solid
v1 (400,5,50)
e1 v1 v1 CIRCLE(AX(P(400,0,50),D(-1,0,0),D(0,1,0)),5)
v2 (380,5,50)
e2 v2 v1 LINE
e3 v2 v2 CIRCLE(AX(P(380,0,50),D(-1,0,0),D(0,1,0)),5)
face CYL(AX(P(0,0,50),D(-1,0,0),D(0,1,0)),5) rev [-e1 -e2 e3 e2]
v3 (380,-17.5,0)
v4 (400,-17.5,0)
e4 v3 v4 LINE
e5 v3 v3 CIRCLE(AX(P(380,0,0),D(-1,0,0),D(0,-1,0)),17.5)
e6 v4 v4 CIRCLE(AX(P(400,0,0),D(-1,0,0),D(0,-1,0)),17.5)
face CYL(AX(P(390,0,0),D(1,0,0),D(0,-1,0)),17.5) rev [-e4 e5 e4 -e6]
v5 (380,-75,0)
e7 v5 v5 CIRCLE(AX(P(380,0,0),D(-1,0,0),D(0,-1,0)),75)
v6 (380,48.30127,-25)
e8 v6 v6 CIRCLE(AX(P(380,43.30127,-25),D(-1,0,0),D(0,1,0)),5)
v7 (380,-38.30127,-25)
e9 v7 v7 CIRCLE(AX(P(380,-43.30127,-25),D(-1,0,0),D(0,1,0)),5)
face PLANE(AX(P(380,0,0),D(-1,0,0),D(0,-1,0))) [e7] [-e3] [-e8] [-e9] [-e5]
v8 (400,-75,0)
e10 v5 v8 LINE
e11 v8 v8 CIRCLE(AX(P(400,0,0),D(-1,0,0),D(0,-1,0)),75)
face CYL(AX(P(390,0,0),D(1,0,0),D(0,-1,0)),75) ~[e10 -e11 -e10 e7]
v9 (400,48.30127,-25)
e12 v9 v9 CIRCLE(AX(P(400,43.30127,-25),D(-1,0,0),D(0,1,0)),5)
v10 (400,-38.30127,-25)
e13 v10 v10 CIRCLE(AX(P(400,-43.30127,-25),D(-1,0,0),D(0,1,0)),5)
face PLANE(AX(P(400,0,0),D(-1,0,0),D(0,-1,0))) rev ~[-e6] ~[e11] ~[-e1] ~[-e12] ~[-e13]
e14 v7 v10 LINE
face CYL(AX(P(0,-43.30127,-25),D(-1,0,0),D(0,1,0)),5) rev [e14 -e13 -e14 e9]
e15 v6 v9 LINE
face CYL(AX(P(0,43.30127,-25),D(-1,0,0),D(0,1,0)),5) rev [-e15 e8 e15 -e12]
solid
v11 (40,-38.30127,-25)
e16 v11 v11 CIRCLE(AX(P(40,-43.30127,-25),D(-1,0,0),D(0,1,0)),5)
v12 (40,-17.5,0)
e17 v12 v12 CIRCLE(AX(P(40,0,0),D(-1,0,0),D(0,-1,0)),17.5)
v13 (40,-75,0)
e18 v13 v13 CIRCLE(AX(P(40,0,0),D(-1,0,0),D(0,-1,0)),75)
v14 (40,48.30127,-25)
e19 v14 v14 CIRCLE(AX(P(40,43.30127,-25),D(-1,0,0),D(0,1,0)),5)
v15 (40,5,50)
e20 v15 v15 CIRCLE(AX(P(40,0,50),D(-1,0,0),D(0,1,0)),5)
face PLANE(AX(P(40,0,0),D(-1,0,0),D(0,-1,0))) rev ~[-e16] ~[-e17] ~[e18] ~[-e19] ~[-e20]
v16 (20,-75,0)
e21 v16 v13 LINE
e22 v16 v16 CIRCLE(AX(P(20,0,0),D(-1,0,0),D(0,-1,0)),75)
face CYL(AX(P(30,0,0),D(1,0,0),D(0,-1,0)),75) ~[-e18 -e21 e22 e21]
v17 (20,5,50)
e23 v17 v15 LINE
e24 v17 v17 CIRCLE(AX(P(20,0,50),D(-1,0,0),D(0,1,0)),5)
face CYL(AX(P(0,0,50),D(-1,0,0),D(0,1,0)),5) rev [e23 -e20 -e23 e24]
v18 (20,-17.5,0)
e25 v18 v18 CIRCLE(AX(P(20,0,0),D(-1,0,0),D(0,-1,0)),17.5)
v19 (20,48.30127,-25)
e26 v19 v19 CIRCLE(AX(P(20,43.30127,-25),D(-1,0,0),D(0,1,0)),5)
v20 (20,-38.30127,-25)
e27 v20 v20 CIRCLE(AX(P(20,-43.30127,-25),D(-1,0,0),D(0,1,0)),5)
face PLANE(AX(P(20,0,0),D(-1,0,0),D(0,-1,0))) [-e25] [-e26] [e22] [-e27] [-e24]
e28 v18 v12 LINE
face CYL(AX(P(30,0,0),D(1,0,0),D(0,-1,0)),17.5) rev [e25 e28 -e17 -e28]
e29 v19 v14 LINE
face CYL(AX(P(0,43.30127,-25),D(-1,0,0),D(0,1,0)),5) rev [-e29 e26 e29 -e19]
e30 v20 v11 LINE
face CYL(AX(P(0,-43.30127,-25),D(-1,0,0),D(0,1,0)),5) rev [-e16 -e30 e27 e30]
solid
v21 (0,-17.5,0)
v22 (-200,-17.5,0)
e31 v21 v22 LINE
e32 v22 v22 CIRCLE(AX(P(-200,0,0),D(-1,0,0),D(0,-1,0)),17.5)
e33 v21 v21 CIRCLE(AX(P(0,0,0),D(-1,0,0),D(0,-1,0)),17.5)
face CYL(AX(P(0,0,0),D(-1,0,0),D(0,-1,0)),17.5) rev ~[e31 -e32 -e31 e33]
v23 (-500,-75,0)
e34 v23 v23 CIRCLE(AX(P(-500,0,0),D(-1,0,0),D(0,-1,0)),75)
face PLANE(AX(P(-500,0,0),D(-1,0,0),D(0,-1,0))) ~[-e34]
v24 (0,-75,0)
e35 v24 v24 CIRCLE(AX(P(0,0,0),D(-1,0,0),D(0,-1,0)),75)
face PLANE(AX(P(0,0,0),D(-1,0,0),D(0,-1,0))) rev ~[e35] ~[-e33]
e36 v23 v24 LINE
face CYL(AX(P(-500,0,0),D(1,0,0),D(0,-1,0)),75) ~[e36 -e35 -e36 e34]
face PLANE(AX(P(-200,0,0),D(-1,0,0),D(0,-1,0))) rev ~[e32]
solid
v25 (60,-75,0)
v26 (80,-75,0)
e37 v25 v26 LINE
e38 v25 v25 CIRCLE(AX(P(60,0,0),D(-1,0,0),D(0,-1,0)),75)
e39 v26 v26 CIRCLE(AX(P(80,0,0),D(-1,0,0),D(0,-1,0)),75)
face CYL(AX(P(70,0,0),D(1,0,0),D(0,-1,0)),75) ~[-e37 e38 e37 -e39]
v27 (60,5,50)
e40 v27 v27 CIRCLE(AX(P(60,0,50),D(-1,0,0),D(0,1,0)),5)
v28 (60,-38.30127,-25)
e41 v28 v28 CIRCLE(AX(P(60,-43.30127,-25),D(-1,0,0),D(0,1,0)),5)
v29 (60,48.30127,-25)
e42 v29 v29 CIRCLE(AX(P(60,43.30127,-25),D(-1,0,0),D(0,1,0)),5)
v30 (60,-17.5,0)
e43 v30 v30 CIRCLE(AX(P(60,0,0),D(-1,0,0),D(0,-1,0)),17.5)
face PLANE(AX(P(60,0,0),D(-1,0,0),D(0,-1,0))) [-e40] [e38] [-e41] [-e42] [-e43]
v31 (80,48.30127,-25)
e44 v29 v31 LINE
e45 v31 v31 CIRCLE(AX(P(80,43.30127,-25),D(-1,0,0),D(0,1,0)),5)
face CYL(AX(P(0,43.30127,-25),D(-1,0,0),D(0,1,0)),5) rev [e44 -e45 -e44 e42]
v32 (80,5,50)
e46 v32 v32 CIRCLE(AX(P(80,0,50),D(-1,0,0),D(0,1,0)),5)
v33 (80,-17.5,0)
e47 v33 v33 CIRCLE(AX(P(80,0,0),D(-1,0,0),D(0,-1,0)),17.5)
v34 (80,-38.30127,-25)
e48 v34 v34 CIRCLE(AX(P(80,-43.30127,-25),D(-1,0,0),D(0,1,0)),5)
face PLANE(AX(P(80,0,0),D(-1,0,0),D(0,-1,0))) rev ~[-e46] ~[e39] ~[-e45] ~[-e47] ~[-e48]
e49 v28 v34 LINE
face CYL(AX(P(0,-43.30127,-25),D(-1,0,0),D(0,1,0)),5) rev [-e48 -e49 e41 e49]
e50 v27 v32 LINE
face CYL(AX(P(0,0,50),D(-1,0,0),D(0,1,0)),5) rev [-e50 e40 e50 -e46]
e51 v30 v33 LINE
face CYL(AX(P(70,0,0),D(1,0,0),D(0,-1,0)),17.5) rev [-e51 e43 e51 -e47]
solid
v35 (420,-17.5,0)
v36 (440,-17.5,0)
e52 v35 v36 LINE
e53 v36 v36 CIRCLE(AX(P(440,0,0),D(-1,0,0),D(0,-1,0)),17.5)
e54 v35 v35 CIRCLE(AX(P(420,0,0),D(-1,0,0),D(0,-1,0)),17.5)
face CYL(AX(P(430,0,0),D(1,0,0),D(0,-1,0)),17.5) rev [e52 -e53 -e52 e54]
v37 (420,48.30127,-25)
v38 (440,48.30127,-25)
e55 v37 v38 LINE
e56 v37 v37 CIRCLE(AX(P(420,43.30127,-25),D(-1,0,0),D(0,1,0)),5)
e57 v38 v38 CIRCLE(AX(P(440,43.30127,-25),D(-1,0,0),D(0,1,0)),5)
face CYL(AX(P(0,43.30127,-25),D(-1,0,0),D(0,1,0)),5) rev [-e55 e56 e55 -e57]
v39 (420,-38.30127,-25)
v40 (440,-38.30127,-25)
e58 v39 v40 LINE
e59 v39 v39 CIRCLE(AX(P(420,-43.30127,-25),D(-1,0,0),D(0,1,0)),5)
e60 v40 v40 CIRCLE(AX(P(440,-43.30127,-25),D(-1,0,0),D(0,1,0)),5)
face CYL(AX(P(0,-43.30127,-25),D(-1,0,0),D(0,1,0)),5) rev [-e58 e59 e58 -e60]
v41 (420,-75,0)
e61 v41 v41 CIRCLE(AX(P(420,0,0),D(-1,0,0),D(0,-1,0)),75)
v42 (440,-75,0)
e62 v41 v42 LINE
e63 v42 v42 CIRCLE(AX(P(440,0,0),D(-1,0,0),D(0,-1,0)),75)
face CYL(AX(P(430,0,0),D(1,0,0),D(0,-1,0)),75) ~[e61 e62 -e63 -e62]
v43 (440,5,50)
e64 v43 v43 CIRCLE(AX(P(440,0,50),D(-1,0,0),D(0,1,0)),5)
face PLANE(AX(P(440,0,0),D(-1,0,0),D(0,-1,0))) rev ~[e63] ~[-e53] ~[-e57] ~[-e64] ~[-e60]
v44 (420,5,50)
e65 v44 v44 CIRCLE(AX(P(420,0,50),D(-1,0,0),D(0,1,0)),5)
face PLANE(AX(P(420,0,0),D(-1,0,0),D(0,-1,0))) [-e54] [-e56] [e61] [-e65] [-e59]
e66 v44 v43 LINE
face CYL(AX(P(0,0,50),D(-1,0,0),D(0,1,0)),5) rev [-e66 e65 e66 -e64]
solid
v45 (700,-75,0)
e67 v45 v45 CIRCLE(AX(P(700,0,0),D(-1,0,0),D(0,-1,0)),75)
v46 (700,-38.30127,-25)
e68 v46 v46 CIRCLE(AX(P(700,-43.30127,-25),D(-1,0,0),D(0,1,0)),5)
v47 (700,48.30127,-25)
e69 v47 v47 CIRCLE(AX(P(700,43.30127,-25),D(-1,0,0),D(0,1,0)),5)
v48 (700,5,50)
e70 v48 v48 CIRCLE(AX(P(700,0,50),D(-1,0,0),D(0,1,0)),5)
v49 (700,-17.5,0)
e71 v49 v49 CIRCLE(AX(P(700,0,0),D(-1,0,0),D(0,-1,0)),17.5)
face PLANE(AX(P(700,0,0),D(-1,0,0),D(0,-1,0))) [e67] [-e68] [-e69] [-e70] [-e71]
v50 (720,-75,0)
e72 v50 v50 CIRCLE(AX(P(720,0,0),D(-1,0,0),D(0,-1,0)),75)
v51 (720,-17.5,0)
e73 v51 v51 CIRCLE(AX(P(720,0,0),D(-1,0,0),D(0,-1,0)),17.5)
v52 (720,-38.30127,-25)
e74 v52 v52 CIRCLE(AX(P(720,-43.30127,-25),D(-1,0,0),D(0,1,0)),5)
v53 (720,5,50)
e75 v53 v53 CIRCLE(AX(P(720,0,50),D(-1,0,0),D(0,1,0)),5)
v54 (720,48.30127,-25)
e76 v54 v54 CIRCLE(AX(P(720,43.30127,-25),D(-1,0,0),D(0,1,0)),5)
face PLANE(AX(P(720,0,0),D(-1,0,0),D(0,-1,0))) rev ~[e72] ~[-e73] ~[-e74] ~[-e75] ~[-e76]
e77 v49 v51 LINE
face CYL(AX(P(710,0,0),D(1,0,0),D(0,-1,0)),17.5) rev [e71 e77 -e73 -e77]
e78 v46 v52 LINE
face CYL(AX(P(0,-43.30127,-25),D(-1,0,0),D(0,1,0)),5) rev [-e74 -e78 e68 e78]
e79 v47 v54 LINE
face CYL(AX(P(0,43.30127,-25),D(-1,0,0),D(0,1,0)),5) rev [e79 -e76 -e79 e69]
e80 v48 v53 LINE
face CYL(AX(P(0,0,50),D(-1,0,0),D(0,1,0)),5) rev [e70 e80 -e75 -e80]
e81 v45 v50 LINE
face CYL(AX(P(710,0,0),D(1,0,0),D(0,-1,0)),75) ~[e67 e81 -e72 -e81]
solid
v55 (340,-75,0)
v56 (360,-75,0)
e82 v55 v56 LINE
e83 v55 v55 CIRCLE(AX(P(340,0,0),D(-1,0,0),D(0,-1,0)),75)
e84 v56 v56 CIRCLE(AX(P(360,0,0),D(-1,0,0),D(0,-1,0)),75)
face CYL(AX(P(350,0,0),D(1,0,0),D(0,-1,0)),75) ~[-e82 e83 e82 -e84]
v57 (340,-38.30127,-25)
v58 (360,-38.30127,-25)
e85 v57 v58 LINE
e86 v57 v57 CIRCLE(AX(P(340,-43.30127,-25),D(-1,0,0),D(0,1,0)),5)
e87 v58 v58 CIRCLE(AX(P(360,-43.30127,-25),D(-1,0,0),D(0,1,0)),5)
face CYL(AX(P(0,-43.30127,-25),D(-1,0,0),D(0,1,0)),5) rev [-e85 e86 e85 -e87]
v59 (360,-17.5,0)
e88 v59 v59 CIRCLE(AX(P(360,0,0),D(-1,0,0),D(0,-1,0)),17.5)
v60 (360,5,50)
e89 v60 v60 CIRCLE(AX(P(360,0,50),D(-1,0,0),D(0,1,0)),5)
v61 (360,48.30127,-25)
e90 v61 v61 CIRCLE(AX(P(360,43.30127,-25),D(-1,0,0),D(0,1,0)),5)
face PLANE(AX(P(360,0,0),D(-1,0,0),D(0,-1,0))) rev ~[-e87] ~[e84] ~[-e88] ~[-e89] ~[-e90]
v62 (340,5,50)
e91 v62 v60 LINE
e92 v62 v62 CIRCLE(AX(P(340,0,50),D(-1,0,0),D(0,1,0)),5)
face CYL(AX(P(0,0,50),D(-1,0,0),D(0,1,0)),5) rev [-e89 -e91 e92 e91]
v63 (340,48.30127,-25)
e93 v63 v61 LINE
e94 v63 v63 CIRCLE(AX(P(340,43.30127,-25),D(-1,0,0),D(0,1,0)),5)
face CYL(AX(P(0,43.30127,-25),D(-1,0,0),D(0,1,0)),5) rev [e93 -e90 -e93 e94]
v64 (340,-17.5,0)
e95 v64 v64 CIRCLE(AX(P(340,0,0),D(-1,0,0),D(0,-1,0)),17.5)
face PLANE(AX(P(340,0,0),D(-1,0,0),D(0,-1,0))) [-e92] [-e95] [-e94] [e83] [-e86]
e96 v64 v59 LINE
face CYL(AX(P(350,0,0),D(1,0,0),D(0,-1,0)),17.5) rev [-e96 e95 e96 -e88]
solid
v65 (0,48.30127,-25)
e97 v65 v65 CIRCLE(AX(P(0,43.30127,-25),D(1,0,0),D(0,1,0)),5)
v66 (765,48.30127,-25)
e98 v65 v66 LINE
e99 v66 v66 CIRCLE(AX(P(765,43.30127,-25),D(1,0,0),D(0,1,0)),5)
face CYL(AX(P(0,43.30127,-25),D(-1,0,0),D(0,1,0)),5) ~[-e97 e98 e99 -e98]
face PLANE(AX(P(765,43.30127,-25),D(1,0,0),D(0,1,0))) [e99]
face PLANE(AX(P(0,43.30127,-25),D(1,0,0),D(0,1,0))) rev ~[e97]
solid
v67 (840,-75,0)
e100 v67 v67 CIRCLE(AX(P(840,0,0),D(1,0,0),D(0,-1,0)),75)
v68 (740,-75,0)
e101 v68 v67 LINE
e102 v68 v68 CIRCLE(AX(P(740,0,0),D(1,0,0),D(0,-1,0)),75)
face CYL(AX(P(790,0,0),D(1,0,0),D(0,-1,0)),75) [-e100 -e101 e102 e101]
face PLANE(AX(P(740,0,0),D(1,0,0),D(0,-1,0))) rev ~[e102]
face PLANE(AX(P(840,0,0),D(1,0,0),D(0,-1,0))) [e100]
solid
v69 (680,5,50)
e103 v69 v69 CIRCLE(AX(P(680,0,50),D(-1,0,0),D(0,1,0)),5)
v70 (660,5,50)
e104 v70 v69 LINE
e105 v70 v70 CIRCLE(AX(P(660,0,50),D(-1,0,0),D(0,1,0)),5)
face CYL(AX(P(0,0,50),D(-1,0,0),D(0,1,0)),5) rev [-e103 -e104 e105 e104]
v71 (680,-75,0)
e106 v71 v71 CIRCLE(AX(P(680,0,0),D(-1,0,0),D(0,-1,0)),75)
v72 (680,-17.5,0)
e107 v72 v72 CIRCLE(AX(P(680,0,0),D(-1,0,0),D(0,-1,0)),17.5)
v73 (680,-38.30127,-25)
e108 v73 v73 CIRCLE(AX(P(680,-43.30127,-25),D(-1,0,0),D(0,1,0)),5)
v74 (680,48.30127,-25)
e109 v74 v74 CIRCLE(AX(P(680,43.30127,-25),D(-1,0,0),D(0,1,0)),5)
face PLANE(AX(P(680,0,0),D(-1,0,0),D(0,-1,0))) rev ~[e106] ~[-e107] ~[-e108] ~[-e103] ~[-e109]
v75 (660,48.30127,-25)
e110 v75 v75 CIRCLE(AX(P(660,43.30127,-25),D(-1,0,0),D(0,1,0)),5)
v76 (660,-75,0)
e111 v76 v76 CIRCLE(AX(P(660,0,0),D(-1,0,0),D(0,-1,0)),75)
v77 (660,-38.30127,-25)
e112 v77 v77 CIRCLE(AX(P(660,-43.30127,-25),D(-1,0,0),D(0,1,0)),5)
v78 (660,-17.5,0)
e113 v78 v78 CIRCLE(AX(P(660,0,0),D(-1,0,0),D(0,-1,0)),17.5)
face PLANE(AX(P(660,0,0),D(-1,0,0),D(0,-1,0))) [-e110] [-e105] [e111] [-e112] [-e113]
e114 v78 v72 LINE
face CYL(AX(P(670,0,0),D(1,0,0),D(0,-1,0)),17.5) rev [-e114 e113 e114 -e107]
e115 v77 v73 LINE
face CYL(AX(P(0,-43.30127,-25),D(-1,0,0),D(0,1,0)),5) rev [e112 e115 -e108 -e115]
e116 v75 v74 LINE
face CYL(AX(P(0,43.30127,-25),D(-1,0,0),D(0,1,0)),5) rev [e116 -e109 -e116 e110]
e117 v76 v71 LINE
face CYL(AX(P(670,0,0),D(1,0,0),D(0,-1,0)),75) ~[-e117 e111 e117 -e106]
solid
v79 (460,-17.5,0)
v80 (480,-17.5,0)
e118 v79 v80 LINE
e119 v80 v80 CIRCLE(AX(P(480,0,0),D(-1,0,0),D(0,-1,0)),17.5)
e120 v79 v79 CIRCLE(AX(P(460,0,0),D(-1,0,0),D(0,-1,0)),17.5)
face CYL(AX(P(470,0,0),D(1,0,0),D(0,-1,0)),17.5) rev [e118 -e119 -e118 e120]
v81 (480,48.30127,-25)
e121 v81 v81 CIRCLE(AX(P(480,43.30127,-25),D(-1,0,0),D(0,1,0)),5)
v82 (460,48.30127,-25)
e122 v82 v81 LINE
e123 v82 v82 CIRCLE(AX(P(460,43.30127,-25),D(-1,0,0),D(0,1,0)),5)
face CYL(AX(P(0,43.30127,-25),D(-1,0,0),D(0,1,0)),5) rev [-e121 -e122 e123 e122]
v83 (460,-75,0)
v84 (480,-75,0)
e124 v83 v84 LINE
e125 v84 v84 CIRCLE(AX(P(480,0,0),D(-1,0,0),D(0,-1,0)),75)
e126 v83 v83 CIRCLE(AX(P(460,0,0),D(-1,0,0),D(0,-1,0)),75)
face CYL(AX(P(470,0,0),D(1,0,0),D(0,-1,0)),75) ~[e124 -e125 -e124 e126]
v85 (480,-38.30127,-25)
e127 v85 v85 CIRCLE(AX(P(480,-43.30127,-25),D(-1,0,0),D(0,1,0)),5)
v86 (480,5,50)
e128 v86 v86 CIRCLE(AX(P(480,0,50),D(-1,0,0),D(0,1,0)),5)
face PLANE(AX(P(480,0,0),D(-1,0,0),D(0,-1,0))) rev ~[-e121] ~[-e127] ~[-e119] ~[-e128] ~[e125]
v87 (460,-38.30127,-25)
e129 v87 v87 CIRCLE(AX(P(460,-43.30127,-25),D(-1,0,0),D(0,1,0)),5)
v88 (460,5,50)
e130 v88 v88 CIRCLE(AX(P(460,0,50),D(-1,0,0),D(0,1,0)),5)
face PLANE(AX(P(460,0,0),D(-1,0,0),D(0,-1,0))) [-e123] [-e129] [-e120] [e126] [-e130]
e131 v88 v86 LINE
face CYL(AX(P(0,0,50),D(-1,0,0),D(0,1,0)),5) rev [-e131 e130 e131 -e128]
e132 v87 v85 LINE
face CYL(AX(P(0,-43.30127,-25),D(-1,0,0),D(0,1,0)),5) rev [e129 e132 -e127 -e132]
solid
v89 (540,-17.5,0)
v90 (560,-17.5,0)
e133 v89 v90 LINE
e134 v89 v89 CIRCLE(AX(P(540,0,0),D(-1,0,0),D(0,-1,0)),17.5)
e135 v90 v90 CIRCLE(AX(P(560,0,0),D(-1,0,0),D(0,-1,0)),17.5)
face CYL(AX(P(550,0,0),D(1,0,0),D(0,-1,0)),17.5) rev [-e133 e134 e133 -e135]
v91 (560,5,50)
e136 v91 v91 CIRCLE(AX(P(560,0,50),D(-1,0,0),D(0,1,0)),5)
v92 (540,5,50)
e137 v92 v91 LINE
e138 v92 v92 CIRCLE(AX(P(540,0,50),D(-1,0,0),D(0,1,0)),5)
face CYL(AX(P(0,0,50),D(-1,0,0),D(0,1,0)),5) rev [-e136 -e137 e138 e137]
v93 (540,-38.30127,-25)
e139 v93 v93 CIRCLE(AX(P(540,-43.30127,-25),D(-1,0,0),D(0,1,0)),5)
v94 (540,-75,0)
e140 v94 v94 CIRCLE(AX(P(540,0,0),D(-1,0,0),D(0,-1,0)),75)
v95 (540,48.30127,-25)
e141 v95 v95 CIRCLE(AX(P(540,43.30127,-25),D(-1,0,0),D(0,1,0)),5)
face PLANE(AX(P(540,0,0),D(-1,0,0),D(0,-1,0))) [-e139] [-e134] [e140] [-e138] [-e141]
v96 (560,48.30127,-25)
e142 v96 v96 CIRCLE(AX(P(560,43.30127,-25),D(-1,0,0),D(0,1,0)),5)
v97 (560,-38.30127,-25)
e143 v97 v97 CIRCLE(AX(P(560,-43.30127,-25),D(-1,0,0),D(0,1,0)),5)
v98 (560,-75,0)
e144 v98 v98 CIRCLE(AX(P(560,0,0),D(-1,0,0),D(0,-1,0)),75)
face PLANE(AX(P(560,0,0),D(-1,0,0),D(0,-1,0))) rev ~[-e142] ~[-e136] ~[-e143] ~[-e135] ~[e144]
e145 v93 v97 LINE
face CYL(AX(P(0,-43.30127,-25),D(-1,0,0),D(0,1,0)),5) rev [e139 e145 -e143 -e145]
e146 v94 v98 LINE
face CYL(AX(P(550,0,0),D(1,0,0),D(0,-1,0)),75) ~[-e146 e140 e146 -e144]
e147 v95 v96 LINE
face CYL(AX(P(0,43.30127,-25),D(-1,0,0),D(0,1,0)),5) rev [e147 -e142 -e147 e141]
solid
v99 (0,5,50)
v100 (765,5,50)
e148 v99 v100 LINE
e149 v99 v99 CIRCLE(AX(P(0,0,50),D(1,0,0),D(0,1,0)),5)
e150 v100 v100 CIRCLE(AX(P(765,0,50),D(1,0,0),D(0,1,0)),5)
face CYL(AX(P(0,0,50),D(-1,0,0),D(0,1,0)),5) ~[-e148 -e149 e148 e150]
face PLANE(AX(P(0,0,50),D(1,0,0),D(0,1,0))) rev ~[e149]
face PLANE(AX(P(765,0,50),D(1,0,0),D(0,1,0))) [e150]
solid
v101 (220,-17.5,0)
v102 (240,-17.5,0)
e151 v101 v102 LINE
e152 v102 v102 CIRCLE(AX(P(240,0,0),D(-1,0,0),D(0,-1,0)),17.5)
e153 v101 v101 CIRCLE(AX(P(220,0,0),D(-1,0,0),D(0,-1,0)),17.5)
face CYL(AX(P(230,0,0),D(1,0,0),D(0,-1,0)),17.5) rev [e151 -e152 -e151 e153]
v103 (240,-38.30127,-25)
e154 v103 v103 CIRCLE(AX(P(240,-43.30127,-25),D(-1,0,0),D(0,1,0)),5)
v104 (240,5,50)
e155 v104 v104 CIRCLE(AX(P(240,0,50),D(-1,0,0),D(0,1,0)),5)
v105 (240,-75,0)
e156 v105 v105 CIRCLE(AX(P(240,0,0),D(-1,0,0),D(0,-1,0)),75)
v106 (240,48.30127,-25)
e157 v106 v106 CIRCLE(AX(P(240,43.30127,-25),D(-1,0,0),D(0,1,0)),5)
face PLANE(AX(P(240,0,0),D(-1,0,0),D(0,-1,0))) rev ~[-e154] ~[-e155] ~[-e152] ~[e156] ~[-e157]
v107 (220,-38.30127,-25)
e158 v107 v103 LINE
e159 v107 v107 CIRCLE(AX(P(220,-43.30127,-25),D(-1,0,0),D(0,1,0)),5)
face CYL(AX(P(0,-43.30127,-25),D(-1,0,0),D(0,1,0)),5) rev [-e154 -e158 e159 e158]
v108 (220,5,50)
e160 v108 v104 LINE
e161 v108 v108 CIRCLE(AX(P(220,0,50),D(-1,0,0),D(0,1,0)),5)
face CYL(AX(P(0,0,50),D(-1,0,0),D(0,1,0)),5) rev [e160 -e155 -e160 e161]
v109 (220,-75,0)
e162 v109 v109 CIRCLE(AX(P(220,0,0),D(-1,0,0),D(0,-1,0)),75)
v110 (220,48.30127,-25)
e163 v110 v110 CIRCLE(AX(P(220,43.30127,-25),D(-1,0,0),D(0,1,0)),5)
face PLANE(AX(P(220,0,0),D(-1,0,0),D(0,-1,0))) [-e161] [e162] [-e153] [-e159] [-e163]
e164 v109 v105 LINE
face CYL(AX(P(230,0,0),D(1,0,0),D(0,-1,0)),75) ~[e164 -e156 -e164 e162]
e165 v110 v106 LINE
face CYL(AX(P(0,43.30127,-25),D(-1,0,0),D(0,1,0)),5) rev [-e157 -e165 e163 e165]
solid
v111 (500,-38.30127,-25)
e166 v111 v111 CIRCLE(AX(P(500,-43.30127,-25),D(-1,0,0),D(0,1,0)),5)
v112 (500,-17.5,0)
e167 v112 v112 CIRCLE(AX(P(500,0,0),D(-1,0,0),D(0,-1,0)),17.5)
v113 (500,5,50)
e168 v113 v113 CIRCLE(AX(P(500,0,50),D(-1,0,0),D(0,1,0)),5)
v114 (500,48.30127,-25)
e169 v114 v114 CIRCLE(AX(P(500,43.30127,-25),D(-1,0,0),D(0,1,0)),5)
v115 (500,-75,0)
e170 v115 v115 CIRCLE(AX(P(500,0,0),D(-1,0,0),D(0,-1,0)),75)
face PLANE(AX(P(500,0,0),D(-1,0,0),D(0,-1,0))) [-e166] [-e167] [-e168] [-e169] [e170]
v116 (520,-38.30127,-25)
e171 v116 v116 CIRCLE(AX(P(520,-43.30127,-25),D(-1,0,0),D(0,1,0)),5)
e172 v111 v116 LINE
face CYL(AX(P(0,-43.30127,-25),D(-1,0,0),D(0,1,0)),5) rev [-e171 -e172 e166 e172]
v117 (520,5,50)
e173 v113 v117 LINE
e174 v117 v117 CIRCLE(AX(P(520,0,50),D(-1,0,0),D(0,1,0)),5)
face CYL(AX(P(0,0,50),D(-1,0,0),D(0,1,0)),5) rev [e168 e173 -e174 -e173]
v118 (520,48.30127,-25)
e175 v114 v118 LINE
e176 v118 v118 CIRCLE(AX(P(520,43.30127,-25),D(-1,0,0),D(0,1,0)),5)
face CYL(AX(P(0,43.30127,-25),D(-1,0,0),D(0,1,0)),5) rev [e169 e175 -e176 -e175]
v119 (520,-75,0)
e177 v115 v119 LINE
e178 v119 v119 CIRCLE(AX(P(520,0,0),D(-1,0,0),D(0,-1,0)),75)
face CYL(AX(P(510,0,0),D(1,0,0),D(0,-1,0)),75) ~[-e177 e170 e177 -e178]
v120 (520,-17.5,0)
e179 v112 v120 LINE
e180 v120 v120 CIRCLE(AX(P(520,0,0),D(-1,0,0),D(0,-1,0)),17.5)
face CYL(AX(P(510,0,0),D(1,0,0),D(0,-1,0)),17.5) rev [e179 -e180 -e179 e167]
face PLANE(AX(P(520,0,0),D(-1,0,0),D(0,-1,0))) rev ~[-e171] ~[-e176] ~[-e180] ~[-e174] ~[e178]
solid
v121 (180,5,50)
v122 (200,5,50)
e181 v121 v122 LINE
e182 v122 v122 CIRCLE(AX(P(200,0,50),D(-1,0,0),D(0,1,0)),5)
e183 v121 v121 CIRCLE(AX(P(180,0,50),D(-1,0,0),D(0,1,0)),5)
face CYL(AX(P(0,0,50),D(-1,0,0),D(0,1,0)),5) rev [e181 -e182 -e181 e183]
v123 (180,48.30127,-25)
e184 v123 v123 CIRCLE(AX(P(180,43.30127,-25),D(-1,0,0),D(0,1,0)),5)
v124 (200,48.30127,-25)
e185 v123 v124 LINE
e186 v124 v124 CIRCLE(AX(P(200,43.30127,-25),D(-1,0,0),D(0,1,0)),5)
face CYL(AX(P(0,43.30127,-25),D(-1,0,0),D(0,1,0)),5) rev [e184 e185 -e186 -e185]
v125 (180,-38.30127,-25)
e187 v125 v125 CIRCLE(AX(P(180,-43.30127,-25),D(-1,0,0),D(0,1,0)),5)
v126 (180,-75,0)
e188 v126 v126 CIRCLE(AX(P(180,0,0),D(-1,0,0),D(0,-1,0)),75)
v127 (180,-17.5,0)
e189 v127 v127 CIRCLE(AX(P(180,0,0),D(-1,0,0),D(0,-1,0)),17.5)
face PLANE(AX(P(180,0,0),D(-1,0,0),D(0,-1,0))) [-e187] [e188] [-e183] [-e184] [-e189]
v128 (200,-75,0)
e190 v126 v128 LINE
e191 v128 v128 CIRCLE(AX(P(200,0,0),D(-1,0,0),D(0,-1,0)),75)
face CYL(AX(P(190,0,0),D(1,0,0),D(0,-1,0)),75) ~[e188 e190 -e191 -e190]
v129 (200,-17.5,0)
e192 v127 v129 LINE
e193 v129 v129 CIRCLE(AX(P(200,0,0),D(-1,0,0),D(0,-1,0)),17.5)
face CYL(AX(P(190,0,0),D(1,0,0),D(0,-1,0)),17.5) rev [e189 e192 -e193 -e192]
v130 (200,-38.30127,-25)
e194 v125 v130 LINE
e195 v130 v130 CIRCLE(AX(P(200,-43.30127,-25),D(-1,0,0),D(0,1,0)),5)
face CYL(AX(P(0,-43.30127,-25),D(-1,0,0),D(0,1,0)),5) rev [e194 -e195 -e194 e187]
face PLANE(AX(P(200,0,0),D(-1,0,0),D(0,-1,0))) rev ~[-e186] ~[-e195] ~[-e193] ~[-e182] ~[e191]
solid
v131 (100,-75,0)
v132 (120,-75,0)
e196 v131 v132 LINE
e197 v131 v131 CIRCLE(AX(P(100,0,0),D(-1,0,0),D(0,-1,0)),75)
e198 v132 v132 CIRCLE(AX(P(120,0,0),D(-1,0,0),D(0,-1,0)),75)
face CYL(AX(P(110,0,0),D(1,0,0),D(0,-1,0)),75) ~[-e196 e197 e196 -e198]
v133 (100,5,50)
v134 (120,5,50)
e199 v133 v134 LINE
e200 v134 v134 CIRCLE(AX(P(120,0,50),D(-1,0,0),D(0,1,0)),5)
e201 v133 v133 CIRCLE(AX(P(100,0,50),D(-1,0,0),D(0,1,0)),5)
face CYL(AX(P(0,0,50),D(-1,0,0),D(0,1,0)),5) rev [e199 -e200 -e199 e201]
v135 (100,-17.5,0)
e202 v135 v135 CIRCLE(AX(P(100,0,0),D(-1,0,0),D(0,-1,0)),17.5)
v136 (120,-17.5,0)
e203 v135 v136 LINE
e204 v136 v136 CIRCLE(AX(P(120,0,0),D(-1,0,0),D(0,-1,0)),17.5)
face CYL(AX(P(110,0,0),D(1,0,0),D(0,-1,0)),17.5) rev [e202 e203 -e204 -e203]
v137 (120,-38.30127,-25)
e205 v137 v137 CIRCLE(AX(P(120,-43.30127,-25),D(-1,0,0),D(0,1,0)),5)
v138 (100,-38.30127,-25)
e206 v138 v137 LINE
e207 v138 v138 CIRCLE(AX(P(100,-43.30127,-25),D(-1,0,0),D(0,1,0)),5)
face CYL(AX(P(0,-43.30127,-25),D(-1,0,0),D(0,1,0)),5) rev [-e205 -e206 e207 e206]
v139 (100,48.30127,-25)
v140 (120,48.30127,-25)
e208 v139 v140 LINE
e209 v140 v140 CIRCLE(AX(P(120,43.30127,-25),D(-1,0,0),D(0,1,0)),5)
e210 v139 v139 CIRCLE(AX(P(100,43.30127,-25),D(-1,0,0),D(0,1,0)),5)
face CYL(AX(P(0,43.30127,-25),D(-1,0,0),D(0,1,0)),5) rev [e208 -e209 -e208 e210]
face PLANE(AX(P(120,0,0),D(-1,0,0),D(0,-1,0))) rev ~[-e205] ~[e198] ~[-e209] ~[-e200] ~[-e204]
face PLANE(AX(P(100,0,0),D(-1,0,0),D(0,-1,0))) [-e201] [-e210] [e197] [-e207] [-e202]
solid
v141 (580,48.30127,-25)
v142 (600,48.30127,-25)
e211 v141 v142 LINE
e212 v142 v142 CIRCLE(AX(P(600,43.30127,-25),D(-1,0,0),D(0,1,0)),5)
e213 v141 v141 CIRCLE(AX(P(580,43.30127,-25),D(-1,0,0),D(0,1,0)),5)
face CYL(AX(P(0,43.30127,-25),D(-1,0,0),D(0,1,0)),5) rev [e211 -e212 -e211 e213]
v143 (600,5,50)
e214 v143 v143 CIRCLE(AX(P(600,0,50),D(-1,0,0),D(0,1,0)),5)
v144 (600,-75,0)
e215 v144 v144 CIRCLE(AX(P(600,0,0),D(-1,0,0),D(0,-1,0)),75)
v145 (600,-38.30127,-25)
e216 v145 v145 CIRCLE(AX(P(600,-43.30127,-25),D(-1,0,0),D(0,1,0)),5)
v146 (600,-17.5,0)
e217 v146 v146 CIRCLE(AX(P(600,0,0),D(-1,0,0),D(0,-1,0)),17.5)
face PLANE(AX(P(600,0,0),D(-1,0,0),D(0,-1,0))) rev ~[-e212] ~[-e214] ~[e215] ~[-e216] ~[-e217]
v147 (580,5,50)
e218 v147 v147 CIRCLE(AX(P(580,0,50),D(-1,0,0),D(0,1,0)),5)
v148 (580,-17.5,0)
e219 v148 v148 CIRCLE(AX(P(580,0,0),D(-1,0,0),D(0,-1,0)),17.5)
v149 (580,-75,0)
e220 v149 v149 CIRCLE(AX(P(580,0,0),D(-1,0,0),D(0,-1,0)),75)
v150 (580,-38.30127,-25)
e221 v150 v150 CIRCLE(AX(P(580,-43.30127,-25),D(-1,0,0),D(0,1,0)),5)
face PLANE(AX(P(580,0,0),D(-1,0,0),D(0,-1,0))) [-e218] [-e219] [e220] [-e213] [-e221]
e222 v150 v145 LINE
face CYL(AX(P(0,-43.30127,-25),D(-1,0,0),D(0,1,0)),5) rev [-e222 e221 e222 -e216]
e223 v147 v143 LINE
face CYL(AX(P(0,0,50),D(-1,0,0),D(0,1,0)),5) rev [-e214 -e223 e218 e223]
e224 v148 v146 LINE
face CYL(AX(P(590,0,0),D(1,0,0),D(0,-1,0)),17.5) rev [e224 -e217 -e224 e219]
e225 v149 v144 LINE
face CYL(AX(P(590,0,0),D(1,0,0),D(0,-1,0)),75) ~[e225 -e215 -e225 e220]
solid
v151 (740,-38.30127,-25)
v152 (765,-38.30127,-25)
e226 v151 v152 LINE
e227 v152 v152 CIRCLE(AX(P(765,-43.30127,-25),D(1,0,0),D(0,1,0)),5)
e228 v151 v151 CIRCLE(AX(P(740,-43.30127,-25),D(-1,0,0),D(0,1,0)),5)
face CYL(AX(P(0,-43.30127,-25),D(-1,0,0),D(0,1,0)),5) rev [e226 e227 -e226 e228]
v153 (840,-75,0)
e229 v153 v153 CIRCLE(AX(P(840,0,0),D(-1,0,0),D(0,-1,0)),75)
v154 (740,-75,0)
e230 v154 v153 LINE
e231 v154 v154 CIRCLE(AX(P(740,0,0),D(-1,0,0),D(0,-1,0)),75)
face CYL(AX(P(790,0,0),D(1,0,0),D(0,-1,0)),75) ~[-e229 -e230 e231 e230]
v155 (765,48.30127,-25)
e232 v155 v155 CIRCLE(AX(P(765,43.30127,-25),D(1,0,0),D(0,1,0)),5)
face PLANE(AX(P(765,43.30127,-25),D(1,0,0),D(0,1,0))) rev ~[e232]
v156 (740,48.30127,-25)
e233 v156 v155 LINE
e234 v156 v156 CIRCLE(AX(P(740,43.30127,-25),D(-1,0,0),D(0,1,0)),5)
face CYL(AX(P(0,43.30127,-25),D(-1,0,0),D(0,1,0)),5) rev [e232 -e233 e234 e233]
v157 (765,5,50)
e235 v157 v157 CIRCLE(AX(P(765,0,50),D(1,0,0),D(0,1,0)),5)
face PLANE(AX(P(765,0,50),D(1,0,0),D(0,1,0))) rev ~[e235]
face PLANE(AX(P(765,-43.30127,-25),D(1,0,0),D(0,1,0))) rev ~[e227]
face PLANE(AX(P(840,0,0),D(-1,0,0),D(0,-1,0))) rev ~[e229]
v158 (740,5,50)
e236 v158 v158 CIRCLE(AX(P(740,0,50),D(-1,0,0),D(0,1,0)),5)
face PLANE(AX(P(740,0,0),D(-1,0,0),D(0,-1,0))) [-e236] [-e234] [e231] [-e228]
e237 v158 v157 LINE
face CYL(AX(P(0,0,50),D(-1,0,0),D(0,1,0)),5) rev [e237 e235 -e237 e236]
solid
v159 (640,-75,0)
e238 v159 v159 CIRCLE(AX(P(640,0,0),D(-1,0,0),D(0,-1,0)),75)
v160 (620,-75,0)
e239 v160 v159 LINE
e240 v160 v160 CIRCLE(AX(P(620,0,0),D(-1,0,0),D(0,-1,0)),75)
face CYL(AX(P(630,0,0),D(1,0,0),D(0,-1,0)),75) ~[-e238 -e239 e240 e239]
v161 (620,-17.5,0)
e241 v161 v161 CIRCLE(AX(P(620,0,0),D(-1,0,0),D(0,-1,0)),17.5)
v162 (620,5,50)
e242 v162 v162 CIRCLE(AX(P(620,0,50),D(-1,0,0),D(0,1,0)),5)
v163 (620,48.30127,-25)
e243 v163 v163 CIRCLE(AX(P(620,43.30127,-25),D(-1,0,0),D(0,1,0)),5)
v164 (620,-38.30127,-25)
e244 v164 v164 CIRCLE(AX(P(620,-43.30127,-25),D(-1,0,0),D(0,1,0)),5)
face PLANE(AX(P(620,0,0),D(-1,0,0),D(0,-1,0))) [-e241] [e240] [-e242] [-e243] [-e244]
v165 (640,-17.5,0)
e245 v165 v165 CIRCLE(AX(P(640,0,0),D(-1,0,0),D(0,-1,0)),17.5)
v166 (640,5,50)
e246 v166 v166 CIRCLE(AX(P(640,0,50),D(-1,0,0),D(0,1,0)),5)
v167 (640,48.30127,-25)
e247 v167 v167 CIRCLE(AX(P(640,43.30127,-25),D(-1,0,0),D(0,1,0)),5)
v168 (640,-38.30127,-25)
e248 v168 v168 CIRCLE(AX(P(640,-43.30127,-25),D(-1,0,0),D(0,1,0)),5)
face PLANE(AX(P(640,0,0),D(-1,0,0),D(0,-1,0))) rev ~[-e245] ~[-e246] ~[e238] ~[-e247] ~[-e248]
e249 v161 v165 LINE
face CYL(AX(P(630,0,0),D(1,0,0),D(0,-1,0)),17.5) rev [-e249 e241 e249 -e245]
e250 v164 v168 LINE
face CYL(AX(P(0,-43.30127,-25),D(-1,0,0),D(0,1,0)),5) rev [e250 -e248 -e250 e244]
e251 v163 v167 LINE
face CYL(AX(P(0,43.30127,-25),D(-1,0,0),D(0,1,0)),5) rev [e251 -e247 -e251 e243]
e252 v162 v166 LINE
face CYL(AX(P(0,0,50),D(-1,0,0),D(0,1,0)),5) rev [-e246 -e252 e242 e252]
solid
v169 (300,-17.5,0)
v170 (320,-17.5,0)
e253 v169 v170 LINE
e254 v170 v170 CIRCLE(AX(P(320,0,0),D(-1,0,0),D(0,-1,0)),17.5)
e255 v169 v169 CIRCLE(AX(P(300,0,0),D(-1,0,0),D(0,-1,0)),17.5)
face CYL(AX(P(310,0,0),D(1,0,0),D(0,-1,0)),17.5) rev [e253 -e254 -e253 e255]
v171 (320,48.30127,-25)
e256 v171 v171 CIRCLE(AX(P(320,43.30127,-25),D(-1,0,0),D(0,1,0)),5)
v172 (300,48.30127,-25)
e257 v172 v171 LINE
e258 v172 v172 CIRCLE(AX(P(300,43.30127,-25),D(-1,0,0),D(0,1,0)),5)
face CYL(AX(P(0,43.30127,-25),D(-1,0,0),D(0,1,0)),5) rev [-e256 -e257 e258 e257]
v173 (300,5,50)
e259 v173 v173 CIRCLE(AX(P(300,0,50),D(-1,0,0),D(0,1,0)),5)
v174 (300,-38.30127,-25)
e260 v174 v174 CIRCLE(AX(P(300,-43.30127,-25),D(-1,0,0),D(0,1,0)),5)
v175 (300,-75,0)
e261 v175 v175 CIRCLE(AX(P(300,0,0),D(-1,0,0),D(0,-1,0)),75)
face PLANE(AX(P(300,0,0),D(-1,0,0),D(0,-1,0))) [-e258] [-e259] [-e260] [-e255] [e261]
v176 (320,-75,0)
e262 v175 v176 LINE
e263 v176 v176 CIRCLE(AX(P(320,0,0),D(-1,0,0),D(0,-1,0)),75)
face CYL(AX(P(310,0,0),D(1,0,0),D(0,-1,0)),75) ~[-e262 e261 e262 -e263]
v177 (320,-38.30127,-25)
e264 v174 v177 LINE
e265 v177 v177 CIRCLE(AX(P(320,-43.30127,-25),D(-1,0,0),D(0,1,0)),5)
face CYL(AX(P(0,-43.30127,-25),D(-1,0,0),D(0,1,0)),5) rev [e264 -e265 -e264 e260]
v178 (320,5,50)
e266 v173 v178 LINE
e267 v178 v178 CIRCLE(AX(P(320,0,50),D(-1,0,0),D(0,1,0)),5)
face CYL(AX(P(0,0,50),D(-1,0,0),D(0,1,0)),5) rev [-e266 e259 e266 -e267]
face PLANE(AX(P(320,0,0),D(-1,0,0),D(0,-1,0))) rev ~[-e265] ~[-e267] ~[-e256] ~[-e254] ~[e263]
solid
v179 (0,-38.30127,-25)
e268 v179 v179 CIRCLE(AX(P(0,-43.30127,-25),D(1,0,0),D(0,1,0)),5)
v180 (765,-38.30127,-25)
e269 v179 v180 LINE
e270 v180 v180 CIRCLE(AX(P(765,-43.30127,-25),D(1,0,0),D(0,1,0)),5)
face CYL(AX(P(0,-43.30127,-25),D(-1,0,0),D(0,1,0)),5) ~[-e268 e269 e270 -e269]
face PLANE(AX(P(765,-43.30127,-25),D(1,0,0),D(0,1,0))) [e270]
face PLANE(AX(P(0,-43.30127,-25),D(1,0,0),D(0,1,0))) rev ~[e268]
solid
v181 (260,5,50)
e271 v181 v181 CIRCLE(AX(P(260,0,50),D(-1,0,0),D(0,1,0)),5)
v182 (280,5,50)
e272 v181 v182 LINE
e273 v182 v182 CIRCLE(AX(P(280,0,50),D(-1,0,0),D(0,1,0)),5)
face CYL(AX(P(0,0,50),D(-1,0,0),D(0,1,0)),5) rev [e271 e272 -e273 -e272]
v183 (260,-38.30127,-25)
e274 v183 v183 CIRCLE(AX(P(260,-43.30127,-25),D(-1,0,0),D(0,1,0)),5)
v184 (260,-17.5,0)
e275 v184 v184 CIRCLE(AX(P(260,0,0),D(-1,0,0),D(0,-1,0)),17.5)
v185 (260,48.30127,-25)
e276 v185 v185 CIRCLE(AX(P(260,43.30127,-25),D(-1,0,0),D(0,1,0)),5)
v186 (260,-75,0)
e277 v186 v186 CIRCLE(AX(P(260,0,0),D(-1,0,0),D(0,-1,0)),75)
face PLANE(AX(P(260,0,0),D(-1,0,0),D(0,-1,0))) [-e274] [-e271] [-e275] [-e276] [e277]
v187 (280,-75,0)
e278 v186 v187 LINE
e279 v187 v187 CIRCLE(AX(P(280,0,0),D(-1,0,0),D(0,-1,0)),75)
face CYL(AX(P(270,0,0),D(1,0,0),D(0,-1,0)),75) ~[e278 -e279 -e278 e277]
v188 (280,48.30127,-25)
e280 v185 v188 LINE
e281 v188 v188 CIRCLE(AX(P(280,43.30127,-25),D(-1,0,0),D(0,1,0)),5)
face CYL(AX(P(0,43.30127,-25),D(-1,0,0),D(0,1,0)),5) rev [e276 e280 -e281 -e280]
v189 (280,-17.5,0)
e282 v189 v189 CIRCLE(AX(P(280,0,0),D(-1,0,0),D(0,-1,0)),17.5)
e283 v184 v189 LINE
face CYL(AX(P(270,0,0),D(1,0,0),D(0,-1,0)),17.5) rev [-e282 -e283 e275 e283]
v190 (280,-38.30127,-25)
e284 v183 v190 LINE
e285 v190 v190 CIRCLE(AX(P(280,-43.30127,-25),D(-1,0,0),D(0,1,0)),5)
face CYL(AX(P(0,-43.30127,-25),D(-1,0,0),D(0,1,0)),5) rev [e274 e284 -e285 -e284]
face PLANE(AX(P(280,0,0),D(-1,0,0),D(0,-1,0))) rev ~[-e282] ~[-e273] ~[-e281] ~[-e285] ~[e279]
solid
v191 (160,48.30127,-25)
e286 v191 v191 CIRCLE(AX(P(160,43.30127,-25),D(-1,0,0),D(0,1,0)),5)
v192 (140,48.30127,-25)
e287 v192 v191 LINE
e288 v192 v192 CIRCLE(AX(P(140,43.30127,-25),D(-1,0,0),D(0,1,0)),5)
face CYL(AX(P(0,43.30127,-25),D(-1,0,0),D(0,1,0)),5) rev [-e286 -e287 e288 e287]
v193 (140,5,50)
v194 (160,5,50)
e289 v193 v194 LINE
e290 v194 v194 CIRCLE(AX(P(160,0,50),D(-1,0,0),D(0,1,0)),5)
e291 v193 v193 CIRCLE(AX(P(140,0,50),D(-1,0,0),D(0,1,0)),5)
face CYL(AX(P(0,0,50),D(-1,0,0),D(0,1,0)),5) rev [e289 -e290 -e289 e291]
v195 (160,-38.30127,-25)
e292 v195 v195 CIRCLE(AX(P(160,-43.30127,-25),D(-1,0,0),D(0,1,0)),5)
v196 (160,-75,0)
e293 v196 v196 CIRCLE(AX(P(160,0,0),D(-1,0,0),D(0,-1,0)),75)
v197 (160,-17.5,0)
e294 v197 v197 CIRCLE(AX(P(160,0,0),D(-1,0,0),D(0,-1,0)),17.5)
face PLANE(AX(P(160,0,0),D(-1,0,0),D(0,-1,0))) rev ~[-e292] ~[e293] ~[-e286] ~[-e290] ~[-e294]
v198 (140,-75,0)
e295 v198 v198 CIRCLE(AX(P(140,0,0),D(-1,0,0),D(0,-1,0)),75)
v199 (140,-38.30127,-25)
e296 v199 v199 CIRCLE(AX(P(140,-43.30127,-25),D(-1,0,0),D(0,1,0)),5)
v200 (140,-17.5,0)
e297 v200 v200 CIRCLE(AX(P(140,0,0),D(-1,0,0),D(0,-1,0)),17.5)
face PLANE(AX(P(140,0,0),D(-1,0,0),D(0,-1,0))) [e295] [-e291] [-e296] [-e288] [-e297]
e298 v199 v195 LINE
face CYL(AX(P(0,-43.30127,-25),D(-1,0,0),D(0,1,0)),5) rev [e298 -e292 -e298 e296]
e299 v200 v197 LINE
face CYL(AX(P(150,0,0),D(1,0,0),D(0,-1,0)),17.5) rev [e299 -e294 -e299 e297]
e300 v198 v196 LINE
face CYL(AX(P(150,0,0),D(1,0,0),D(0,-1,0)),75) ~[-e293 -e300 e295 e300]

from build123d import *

# Parameters (mm, degrees)
F1_W     = 20
F1_H     = 57.5
F2_W     = 100
F2_H     = 75
F4_R     = 5
F5_DEPTH = 765
F6_DEPTH = 765


with BuildPart() as f3:
    # F0 (on Top) → F3 (revolve)
    with BuildSketch(Plane.XY):
        Polygon((-200, 0), (-500, 0), (-500, -75), (0, -75), (0, -17.5), (-200, -17.5), align=None)
    revolve(axis=Axis((-350, 0, 0), (-1, 0, 0)))


with BuildPart() as f3b:
    # F1 (on Top) → F3, piece 2 (revolve)
    with BuildSketch(Plane.XY):
        with Locations((190, -46.25)):
            Rectangle(F1_W, F1_H)
    revolve(axis=Axis((-350, 0, 0), (-1, 0, 0)))


with BuildPart() as f3c:
    # F1 (on Top) → F3, piece 3 (revolve)
    with BuildSketch(Plane.XY):
        with Locations((390, -46.25)):
            Rectangle(F1_W, F1_H)
    revolve(axis=Axis((-350, 0, 0), (-1, 0, 0)))


with BuildPart() as f3d:
    # F1 (on Top) → F3, piece 4 (revolve)
    with BuildSketch(Plane.XY):
        with Locations((150, -46.25)):
            Rectangle(F1_W, F1_H)
    revolve(axis=Axis((-350, 0, 0), (-1, 0, 0)))


with BuildPart() as f3e:
    # F1 (on Top) → F3, piece 5 (revolve)
    with BuildSketch(Plane.XY):
        with Locations((110, -46.25)):
            Rectangle(F1_W, F1_H)
    revolve(axis=Axis((-350, 0, 0), (-1, 0, 0)))


with BuildPart() as f3f:
    # F1 (on Top) → F3, piece 6 (revolve)
    with BuildSketch(Plane.XY):
        with Locations((430, -46.25)):
            Rectangle(F1_W, F1_H)
    revolve(axis=Axis((-350, 0, 0), (-1, 0, 0)))


with BuildPart() as f3g:
    # F1 (on Top) → F3, piece 7 (revolve)
    with BuildSketch(Plane.XY):
        with Locations((70, -46.25)):
            Rectangle(F1_W, F1_H)
    revolve(axis=Axis((-350, 0, 0), (-1, 0, 0)))


with BuildPart() as f3h:
    # F1 (on Top) → F3, piece 8 (revolve)
    with BuildSketch(Plane.XY):
        with Locations((350, -46.25)):
            Rectangle(F1_W, F1_H)
    revolve(axis=Axis((-350, 0, 0), (-1, 0, 0)))


with BuildPart() as f3i:
    # F1 (on Top) → F3, piece 9 (revolve)
    with BuildSketch(Plane.XY):
        with Locations((710, -46.25)):
            Rectangle(F1_W, F1_H)
    revolve(axis=Axis((-350, 0, 0), (-1, 0, 0)))


with BuildPart() as f3j:
    # F1 (on Top) → F3, piece 10 (revolve)
    with BuildSketch(Plane.XY):
        with Locations((670, -46.25)):
            Rectangle(F1_W, F1_H)
    revolve(axis=Axis((-350, 0, 0), (-1, 0, 0)))


with BuildPart() as f3k:
    # F1 (on Top) → F3, piece 11 (revolve)
    with BuildSketch(Plane.XY):
        with Locations((510, -46.25)):
            Rectangle(F1_W, F1_H)
    revolve(axis=Axis((-350, 0, 0), (-1, 0, 0)))


with BuildPart() as f3l:
    # F1 (on Top) → F3, piece 12 (revolve)
    with BuildSketch(Plane.XY):
        with Locations((230, -46.25)):
            Rectangle(F1_W, F1_H)
    revolve(axis=Axis((-350, 0, 0), (-1, 0, 0)))


with BuildPart() as f3m:
    # F1 (on Top) → F3, piece 13 (revolve)
    with BuildSketch(Plane.XY):
        with Locations((270, -46.25)):
            Rectangle(F1_W, F1_H)
    revolve(axis=Axis((-350, 0, 0), (-1, 0, 0)))


with BuildPart() as f3n:
    # F1 (on Top) → F3, piece 14 (revolve)
    with BuildSketch(Plane.XY):
        with Locations((470, -46.25)):
            Rectangle(F1_W, F1_H)
    revolve(axis=Axis((-350, 0, 0), (-1, 0, 0)))


with BuildPart() as f3o:
    # F1 (on Top) → F3, piece 15 (revolve)
    with BuildSketch(Plane.XY):
        with Locations((310, -46.25)):
            Rectangle(F1_W, F1_H)
    revolve(axis=Axis((-350, 0, 0), (-1, 0, 0)))


with BuildPart() as f3p:
    # F1 (on Top) → F3, piece 16 (revolve)
    with BuildSketch(Plane.XY):
        with Locations((30, -46.25)):
            Rectangle(F1_W, F1_H)
    revolve(axis=Axis((-350, 0, 0), (-1, 0, 0)))


with BuildPart() as f3q:
    # F1 (on Top) → F3, piece 17 (revolve)
    with BuildSketch(Plane.XY):
        with Locations((590, -46.25)):
            Rectangle(F1_W, F1_H)
    revolve(axis=Axis((-350, 0, 0), (-1, 0, 0)))


with BuildPart() as f3r:
    # F1 (on Top) → F3, piece 18 (revolve)
    with BuildSketch(Plane.XY):
        with Locations((550, -46.25)):
            Rectangle(F1_W, F1_H)
    revolve(axis=Axis((-350, 0, 0), (-1, 0, 0)))


with BuildPart() as f3s:
    # F2 (on Top) → F3, piece 19 (revolve)
    with BuildSketch(Plane.XY):
        with Locations((790, -37.5)):
            Rectangle(F2_W, F2_H)
    revolve(axis=Axis((-350, 0, 0), (-1, 0, 0)))


with BuildPart() as f3t:
    # F1 (on Top) → F3, piece 20 (revolve)
    with BuildSketch(Plane.XY):
        with Locations((630, -46.25)):
            Rectangle(F1_W, F1_H)
    revolve(axis=Axis((-350, 0, 0), (-1, 0, 0)))


with BuildPart() as f5_tool:
    # F4 (on Right) → F5 (new body, through all)
    with BuildSketch(Plane.YZ):
        with Locations((0, 50)):
            Circle(F4_R)
        with Locations((-43.3012701892, -25)):
            Circle(F4_R)
        with Locations((43.3012701892, -25)):
            Circle(F4_R)
    extrude(amount=F5_DEPTH)


with BuildPart() as f3b_1:
    add(f3b.part)

    # F5: cut by f5_tool
    add(f5_tool.part, mode=Mode.SUBTRACT)


with BuildPart() as f3c_1:
    add(f3c.part)

    # F5: cut by f5_tool
    add(f5_tool.part, mode=Mode.SUBTRACT)


with BuildPart() as f3d_1:
    add(f3d.part)

    # F5: cut by f5_tool
    add(f5_tool.part, mode=Mode.SUBTRACT)


with BuildPart() as f3e_1:
    add(f3e.part)

    # F5: cut by f5_tool
    add(f5_tool.part, mode=Mode.SUBTRACT)


with BuildPart() as f3f_1:
    add(f3f.part)

    # F5: cut by f5_tool
    add(f5_tool.part, mode=Mode.SUBTRACT)


with BuildPart() as f3g_1:
    add(f3g.part)

    # F5: cut by f5_tool
    add(f5_tool.part, mode=Mode.SUBTRACT)


with BuildPart() as f3h_1:
    add(f3h.part)

    # F5: cut by f5_tool
    add(f5_tool.part, mode=Mode.SUBTRACT)


with BuildPart() as f3i_1:
    add(f3i.part)

    # F5: cut by f5_tool
    add(f5_tool.part, mode=Mode.SUBTRACT)


with BuildPart() as f3j_1:
    add(f3j.part)

    # F5: cut by f5_tool
    add(f5_tool.part, mode=Mode.SUBTRACT)


with BuildPart() as f3k_1:
    add(f3k.part)

    # F5: cut by f5_tool
    add(f5_tool.part, mode=Mode.SUBTRACT)


with BuildPart() as f3l_1:
    add(f3l.part)

    # F5: cut by f5_tool
    add(f5_tool.part, mode=Mode.SUBTRACT)


with BuildPart() as f3m_1:
    add(f3m.part)

    # F5: cut by f5_tool
    add(f5_tool.part, mode=Mode.SUBTRACT)


with BuildPart() as f3n_1:
    add(f3n.part)

    # F5: cut by f5_tool
    add(f5_tool.part, mode=Mode.SUBTRACT)


with BuildPart() as f3o_1:
    add(f3o.part)

    # F5: cut by f5_tool
    add(f5_tool.part, mode=Mode.SUBTRACT)


with BuildPart() as f3p_1:
    add(f3p.part)

    # F5: cut by f5_tool
    add(f5_tool.part, mode=Mode.SUBTRACT)


with BuildPart() as f3q_1:
    add(f3q.part)

    # F5: cut by f5_tool
    add(f5_tool.part, mode=Mode.SUBTRACT)


with BuildPart() as f3r_1:
    add(f3r.part)

    # F5: cut by f5_tool
    add(f5_tool.part, mode=Mode.SUBTRACT)


with BuildPart() as f3s_1:
    add(f3s.part)

    # F5: cut by f5_tool
    add(f5_tool.part, mode=Mode.SUBTRACT)


with BuildPart() as f3t_1:
    add(f3t.part)

    # F5: cut by f5_tool
    add(f5_tool.part, mode=Mode.SUBTRACT)


with BuildPart() as f6:
    # F4 (on Right) → F6 (new body, through all)
    with BuildSketch(Plane.YZ):
        with Locations((0, 50)):
            Circle(F4_R)
    extrude(amount=F6_DEPTH)


with BuildPart() as f6b:
    # F4 (on Right) → F6, piece 2 (new body, through all)
    with BuildSketch(Plane.YZ):
        with Locations((-43.3012701892, -25)):
            Circle(F4_R)
    extrude(amount=F6_DEPTH)


with BuildPart() as f6c:
    # F4 (on Right) → F6, piece 3 (new body, through all)
    with BuildSketch(Plane.YZ):
        with Locations((43.3012701892, -25)):
            Circle(F4_R)
    extrude(amount=F6_DEPTH)


with BuildPart() as f7:
    # F2 (on Top) → F7 (revolve)
    with BuildSketch(Plane.XY):
        with Locations((790, -37.5)):
            Rectangle(F2_W, F2_H)
    revolve(axis=Axis((790, 0, 0), (1, 0, 0)))


solid = Compound([f3.part, f3b_1.part, f3c_1.part, f3d_1.part, f3e_1.part, f3f_1.part, f3g_1.part, f3h_1.part, f3i_1.part, f3j_1.part, f3k_1.part, f3l_1.part, f3m_1.part, f3n_1.part, f3o_1.part, f3p_1.part, f3q_1.part, f3r_1.part, f3s_1.part, f3t_1.part, f6.part, f6b.part, f6c.part, f7.part])
